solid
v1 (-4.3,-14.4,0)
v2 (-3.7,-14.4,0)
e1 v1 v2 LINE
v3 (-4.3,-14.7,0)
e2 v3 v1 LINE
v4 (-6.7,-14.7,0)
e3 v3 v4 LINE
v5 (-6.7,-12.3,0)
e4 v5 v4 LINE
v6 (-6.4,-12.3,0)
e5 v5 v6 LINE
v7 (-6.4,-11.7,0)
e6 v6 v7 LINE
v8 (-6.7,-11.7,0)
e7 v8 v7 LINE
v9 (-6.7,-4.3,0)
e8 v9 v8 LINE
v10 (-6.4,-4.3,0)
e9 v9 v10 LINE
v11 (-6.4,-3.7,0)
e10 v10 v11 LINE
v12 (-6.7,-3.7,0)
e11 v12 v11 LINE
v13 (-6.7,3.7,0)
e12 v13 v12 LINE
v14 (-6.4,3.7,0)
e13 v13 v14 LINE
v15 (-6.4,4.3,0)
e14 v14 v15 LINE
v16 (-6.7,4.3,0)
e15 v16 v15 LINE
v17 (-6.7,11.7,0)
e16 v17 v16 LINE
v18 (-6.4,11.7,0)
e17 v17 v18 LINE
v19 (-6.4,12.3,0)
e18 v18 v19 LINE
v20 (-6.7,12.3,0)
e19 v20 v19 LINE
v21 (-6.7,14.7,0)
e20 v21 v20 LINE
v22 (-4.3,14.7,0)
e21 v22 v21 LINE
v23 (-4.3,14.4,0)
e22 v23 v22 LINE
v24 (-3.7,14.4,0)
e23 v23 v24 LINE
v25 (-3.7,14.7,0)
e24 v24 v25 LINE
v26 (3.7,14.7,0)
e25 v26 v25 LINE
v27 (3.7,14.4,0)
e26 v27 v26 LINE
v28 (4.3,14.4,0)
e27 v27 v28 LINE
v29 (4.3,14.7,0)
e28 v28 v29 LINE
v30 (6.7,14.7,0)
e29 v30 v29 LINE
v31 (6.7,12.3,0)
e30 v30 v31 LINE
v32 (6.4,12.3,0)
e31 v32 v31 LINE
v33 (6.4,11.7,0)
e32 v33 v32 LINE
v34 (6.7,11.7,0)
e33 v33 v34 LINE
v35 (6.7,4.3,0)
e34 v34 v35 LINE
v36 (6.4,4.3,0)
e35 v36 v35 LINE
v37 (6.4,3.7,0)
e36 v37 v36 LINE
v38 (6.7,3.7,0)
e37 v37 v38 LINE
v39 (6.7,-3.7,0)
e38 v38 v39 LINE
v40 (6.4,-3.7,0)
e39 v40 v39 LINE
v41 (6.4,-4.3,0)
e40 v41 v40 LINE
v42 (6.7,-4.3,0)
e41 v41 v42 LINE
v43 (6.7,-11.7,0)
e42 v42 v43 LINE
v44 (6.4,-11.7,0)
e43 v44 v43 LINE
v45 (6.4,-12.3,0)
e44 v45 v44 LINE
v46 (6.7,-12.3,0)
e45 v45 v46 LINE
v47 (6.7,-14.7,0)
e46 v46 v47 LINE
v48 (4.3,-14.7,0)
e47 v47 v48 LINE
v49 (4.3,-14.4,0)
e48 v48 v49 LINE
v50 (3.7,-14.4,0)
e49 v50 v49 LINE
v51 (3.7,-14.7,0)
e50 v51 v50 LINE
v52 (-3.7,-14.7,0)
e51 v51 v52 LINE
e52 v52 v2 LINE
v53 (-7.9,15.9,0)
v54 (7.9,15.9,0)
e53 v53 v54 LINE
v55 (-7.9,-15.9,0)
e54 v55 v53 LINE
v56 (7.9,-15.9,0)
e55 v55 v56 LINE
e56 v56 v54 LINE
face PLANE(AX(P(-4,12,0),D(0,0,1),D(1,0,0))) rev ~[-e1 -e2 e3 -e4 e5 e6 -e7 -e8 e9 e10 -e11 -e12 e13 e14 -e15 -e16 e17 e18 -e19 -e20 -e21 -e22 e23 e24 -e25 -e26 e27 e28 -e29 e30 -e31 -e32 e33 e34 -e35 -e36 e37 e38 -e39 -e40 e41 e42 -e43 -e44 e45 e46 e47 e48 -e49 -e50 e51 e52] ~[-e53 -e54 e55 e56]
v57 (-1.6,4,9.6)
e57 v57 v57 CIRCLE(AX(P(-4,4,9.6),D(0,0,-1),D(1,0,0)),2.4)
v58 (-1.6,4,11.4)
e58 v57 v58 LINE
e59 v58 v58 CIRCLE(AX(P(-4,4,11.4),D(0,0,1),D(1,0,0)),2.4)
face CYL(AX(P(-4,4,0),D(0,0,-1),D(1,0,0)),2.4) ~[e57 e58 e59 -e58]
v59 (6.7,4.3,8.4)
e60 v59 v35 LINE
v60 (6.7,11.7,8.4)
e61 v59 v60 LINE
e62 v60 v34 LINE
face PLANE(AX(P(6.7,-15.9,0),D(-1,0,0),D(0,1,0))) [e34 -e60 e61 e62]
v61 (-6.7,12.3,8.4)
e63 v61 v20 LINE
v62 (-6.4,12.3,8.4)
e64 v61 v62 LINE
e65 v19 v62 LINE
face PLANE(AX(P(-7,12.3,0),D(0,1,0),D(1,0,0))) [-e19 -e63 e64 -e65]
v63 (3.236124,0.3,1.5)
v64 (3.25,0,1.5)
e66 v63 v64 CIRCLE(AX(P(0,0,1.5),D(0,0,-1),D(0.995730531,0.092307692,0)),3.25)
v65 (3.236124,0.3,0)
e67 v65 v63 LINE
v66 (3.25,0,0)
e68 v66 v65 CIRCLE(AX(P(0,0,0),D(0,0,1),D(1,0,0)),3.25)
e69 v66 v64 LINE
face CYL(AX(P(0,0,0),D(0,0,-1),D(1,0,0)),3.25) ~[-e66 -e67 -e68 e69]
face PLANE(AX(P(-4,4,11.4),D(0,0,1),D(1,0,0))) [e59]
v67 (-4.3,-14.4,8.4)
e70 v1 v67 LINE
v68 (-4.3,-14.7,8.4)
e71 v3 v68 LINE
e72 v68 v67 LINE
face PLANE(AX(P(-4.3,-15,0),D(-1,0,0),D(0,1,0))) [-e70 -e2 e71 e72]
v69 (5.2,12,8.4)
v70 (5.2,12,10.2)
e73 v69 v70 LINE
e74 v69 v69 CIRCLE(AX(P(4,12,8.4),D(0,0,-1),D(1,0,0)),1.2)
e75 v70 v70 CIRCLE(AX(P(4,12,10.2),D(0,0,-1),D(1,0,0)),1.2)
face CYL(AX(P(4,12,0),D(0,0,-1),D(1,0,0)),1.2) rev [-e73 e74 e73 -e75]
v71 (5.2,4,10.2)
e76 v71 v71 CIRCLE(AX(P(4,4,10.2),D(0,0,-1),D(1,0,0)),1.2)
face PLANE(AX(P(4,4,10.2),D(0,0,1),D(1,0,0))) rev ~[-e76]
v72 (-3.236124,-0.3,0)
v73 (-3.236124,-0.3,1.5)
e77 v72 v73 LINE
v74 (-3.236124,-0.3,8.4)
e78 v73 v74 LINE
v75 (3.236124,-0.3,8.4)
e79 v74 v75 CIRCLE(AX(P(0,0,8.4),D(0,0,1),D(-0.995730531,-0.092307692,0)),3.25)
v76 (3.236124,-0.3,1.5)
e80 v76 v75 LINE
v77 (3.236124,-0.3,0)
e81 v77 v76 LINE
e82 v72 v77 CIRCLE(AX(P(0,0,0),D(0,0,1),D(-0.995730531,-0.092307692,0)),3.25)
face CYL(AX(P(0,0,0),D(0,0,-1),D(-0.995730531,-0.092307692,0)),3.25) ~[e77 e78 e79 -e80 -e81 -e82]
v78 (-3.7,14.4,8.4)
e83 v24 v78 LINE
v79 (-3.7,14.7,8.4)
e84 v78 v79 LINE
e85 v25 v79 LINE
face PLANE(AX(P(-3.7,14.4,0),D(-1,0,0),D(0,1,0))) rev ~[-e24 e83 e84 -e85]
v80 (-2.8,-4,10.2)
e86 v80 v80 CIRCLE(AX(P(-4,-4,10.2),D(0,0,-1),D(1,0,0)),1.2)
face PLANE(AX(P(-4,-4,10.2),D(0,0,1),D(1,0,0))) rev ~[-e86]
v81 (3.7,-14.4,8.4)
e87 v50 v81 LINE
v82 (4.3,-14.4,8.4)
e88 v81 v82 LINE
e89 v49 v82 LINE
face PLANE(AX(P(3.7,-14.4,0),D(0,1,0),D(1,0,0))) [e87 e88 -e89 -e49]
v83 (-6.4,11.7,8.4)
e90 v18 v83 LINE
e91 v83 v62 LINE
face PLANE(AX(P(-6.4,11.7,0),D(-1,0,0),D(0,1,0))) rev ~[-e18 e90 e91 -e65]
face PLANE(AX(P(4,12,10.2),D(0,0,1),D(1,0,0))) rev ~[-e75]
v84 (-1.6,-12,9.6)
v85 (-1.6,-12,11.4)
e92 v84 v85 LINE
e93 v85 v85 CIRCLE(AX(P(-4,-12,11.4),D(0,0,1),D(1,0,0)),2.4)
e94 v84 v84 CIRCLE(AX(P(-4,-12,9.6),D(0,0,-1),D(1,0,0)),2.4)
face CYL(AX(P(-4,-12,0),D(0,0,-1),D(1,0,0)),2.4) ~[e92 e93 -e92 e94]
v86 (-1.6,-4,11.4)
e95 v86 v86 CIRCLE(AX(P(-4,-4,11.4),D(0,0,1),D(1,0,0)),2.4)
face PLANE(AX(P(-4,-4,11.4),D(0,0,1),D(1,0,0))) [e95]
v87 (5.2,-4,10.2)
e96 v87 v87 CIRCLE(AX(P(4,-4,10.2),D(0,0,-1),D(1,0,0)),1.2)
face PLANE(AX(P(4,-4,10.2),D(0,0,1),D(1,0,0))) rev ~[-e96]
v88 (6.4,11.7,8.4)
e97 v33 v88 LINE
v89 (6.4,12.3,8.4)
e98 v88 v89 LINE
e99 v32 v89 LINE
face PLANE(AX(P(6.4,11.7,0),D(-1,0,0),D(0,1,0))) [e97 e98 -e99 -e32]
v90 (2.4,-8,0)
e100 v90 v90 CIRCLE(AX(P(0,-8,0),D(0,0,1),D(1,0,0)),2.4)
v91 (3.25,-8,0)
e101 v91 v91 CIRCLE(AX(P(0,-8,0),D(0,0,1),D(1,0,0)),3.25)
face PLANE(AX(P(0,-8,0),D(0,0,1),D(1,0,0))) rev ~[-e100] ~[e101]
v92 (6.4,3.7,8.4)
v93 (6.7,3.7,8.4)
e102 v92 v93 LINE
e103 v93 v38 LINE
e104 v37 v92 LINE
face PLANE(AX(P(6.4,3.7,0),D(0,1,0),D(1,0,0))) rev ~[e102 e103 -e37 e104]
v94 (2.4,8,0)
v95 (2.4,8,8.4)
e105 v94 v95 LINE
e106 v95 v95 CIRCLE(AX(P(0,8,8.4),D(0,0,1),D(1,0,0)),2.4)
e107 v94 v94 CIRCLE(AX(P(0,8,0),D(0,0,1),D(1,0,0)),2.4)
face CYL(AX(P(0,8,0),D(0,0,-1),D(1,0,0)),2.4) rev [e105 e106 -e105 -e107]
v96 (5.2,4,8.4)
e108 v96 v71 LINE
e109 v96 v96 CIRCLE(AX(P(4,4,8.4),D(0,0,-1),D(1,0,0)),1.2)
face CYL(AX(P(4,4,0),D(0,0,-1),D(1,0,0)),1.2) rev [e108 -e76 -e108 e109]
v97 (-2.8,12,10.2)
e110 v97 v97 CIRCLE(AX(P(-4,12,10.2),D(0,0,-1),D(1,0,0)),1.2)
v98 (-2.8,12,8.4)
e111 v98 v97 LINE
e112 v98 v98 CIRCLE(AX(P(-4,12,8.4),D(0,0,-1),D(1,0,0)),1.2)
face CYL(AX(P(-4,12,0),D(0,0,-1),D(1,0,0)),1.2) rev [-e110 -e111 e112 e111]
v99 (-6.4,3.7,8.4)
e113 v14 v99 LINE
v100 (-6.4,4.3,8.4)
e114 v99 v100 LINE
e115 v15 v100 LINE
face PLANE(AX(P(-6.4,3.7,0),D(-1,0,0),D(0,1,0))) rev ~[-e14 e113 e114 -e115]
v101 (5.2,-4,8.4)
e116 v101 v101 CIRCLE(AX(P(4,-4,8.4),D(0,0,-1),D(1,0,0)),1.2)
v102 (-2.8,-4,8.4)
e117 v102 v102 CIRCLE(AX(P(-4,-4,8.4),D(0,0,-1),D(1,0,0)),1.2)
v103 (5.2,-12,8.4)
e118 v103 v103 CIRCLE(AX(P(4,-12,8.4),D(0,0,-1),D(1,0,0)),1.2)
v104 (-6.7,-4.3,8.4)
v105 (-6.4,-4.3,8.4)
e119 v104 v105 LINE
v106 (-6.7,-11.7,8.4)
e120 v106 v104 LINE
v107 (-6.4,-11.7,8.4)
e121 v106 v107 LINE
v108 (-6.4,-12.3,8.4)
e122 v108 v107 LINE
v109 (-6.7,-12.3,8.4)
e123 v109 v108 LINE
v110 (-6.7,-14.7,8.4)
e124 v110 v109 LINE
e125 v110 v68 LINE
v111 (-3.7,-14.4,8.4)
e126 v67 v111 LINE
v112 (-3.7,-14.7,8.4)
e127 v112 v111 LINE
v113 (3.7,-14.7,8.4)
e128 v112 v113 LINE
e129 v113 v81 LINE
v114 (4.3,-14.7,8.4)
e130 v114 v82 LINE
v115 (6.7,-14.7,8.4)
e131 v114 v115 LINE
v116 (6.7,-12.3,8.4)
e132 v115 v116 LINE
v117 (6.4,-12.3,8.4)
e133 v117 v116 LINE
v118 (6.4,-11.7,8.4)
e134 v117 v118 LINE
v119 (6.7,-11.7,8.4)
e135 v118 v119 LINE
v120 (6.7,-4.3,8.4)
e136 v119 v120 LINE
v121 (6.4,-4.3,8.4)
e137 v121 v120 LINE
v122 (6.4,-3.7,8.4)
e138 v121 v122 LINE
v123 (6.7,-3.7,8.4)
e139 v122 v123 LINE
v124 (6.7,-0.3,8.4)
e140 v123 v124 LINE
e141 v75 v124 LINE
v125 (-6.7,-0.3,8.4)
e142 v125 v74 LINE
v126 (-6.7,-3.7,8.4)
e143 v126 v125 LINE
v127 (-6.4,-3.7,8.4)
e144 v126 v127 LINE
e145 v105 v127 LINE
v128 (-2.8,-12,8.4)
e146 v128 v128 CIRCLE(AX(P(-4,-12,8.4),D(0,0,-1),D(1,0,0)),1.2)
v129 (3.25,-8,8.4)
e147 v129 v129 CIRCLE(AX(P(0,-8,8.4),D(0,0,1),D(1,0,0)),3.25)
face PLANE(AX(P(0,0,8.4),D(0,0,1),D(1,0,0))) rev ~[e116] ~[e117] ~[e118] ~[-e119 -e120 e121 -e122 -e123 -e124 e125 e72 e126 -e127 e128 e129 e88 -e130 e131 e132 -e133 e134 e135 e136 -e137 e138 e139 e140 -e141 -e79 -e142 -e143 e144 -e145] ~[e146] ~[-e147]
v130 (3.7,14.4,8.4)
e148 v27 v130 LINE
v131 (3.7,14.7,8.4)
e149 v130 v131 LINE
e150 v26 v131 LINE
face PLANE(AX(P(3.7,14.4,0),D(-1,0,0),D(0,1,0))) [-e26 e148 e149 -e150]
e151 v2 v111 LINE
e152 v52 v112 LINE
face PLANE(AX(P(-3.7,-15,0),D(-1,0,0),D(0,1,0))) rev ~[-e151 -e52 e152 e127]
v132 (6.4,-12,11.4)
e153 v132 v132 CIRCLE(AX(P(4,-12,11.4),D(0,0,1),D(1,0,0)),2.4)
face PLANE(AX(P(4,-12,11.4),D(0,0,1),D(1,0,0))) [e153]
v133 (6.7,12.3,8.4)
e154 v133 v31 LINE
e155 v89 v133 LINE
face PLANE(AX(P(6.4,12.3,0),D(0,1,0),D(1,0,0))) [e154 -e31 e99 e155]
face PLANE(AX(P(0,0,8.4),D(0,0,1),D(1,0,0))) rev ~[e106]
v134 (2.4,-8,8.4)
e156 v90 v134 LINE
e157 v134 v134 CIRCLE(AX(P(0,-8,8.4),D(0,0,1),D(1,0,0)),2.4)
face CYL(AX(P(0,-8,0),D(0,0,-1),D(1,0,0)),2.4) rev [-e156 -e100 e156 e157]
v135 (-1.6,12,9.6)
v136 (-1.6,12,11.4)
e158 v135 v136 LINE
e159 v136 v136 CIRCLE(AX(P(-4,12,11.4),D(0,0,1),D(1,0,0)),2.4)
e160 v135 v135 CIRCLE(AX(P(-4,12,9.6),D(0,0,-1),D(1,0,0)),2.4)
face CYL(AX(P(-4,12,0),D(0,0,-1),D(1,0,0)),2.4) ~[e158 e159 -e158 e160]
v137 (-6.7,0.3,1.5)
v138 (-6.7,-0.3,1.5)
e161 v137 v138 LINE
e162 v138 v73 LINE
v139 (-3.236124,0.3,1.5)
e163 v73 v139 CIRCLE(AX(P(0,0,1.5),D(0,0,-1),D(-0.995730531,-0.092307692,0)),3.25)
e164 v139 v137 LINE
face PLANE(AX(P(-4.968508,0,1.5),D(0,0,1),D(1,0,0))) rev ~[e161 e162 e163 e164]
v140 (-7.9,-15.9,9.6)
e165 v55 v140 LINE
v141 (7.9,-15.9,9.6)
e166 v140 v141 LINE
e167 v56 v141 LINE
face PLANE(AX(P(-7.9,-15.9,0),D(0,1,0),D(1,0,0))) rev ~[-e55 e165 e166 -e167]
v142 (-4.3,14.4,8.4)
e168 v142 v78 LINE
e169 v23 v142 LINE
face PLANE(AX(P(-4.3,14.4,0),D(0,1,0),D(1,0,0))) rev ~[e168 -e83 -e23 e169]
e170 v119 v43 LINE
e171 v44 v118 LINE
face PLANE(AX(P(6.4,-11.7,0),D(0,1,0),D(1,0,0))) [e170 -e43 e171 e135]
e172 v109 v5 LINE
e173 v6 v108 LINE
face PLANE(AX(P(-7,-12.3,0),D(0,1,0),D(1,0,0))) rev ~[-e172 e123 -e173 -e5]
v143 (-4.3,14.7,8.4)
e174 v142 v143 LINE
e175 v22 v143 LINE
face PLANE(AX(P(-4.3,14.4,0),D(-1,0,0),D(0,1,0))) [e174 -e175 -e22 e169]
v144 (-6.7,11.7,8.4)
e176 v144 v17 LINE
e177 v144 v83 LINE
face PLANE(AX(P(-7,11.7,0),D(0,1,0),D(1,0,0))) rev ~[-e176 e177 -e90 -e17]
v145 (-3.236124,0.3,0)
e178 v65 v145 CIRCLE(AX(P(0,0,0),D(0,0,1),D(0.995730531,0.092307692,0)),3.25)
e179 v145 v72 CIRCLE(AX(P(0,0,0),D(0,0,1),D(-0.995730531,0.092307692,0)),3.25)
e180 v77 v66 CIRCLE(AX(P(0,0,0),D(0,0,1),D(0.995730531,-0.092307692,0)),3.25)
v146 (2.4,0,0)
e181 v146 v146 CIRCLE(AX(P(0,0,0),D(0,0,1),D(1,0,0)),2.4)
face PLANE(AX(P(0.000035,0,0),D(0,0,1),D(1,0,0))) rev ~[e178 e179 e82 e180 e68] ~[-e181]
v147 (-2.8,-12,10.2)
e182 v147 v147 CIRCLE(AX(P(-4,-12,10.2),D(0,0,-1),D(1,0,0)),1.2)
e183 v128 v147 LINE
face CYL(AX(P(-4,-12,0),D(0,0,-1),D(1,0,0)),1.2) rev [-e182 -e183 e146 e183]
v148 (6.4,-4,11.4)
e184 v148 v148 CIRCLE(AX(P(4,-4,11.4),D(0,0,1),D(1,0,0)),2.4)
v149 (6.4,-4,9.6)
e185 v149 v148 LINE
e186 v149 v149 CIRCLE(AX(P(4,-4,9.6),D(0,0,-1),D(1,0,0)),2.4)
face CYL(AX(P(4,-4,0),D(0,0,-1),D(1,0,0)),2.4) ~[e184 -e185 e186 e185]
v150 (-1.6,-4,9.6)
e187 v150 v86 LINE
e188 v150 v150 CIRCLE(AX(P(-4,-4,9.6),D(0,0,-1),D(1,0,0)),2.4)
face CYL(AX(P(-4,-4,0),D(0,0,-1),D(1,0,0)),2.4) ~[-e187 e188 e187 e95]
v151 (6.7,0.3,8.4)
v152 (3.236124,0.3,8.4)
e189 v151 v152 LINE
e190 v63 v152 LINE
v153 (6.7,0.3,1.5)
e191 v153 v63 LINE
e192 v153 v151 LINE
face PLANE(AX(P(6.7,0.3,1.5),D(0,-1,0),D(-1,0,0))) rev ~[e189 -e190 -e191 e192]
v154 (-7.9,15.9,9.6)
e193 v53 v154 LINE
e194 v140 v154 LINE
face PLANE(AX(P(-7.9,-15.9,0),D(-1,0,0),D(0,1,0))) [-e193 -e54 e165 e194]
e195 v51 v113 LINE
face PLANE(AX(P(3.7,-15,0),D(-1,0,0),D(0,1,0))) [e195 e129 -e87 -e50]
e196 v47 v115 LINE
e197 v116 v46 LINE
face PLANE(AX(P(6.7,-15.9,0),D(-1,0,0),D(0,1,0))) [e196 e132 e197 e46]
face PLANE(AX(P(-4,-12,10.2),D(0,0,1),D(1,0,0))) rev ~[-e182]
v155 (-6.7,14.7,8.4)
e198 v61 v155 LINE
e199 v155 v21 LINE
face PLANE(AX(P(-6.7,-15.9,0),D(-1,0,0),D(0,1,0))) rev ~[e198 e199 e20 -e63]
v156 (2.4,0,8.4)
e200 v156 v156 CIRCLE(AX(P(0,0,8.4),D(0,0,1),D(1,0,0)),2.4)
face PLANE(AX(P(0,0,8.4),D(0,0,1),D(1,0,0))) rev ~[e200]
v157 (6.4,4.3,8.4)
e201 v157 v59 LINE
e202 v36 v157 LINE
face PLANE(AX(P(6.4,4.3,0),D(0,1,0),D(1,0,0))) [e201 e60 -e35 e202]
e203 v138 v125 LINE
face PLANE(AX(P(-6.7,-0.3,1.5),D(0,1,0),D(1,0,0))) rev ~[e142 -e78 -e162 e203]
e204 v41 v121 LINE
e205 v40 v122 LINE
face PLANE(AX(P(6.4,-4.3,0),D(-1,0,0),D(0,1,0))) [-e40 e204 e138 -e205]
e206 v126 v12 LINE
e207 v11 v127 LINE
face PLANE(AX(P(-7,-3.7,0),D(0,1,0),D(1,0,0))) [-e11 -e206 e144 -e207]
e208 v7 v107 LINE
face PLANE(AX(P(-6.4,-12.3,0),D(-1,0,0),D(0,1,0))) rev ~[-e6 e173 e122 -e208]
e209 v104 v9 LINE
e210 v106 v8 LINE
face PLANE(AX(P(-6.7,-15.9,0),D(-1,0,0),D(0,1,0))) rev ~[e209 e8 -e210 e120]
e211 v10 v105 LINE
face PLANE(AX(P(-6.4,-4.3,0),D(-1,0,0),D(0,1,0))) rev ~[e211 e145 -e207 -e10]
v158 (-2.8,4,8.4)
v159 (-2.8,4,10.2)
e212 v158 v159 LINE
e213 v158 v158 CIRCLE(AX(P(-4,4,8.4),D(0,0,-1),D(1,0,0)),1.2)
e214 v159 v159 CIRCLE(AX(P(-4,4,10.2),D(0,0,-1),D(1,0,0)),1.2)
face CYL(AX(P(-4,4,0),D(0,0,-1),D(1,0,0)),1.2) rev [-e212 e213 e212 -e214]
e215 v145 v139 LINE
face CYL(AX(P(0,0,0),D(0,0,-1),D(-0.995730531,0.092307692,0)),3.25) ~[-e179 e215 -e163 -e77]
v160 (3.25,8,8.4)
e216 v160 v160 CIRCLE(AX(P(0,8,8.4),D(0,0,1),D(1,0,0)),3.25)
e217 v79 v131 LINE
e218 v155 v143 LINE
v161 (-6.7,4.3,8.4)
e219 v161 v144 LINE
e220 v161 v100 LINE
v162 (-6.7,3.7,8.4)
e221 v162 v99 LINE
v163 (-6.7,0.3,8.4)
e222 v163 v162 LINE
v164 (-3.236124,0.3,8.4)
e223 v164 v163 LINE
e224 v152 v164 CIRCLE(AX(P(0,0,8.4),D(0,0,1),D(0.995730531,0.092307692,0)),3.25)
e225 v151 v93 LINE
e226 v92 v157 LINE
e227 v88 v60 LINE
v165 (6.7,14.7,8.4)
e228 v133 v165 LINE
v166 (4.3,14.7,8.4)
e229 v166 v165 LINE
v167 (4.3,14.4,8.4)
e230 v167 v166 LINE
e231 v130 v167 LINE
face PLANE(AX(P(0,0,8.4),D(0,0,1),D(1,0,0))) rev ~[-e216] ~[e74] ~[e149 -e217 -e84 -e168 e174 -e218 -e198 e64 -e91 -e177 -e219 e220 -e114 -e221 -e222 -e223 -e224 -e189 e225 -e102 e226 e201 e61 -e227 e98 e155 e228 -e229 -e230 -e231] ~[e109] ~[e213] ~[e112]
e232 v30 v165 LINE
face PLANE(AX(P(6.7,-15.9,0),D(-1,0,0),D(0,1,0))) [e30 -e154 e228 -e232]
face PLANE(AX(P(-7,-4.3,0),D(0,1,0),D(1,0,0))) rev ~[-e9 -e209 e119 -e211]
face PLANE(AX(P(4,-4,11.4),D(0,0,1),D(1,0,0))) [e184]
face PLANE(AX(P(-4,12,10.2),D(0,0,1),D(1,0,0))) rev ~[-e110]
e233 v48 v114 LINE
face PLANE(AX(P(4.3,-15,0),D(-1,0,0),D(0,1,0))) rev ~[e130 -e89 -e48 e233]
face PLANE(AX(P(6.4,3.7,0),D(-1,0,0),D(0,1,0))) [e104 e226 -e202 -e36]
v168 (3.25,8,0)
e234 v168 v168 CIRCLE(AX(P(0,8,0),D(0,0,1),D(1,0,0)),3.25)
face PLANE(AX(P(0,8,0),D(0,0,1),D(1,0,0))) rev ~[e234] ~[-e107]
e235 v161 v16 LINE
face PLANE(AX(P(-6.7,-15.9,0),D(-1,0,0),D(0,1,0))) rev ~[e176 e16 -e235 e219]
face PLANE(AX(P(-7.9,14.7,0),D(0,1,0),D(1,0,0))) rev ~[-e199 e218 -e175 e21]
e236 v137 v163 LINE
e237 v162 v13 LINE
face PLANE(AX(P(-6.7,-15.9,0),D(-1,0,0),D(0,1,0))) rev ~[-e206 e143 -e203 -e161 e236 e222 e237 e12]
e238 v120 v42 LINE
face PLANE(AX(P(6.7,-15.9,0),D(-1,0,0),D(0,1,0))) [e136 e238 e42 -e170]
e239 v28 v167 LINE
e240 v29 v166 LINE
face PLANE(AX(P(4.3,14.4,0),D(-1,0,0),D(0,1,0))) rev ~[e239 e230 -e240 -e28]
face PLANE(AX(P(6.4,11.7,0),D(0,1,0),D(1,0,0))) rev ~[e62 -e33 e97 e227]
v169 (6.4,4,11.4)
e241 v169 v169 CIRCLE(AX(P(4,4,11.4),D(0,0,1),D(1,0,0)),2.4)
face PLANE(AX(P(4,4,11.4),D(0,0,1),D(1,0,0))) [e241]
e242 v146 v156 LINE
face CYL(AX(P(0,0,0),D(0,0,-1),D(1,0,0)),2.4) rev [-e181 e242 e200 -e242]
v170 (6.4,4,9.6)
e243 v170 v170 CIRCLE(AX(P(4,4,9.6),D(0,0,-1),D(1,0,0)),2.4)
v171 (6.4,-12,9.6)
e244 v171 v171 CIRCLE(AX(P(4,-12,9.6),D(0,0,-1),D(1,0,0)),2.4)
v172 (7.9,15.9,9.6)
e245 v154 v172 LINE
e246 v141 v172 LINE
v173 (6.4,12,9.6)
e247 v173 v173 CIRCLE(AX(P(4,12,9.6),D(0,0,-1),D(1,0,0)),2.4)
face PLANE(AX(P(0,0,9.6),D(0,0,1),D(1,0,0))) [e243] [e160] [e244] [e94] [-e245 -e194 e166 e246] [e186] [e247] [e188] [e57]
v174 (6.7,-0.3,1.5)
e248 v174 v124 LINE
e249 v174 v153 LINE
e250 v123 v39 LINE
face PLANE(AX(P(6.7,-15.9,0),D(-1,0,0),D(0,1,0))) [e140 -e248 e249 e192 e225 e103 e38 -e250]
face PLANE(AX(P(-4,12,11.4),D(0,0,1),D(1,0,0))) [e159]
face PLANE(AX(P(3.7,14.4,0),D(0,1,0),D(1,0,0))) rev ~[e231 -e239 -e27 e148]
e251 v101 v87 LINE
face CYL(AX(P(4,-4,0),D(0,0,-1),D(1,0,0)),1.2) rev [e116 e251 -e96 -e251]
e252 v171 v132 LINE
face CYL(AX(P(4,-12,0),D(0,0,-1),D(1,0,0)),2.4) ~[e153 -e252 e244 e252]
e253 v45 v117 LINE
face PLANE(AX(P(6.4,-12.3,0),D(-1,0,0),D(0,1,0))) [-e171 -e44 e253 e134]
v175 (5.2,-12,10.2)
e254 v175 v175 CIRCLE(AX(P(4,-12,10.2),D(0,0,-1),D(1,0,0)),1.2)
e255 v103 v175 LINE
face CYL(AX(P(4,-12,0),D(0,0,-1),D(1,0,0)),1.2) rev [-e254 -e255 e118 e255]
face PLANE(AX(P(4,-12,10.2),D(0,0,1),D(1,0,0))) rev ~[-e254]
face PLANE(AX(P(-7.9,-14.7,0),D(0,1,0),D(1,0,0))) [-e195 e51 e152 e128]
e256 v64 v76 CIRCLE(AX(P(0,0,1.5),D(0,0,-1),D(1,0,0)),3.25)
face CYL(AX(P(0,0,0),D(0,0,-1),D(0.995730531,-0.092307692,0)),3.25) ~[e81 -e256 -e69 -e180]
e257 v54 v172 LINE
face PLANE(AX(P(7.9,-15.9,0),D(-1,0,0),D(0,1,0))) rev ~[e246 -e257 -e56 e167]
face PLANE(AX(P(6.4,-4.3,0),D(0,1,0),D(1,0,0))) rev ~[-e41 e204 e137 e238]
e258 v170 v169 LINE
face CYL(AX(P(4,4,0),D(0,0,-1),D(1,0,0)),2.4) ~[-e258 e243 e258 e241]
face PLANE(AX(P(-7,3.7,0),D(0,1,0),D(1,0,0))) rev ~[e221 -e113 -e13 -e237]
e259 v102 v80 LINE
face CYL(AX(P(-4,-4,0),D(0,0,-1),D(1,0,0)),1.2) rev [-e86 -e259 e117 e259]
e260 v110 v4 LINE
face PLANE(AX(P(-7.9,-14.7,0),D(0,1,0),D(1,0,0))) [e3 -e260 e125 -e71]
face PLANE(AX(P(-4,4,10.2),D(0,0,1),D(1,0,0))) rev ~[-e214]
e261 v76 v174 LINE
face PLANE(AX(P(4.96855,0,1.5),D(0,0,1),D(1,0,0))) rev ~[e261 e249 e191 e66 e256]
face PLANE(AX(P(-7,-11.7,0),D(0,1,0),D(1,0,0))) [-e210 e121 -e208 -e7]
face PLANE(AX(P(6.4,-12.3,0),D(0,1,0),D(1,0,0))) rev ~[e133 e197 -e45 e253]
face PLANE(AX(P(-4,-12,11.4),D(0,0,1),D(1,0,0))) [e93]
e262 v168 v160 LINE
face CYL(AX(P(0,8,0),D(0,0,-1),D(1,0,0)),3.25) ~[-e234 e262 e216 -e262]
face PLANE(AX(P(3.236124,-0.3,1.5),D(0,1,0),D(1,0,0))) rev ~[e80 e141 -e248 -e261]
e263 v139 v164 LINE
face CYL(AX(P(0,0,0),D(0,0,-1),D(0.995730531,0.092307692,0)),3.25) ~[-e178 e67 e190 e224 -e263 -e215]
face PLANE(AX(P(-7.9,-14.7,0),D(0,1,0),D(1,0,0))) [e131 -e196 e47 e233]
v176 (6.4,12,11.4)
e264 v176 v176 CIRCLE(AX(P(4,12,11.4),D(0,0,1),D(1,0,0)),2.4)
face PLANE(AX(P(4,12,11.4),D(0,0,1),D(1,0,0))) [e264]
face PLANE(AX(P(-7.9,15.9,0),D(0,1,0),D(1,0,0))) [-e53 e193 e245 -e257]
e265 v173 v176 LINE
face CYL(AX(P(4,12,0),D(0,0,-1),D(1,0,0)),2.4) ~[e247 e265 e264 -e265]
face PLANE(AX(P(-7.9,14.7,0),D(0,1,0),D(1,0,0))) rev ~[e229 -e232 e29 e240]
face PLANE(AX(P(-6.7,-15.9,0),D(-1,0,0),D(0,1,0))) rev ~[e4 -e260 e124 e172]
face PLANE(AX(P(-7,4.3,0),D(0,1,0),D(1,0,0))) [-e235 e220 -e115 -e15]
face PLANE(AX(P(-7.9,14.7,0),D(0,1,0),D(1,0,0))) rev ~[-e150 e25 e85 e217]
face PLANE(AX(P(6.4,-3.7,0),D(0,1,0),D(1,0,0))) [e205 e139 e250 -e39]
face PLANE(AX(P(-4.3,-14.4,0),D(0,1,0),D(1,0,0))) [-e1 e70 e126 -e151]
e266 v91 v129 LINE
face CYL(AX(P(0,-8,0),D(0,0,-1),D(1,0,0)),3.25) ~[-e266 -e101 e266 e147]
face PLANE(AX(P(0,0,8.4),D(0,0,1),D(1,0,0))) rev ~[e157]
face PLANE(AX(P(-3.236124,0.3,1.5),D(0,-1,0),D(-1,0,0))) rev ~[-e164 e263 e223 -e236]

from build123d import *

# Parameters (mm, degrees)
F0_W     = 15.8
F0_H     = 31.8
F0_R     = 2.4
F1_DEPTH = 9.6
F2_DEPTH = 11.4
F3_T     = -1.2
F5_W     = 0.6
F5_H     = 0.6
F6_DEPTH = 8.4
F4_R     = 3.25
F4_R_2   = 2.4
F7_DEPTH = 8.4
F8_START = 1.5
F8_DEPTH = 6.9


with BuildPart() as f1:
    # F0 (on Top) → F1 (new body)
    with BuildSketch(Plane.XY):
        Rectangle(F0_W, F0_H)
        with Locations((-4, -12)):
            Circle(F0_R, mode=Mode.SUBTRACT)
        with Locations((-4, -4)):
            Circle(F0_R, mode=Mode.SUBTRACT)
        with Locations((4, -12)):
            Circle(F0_R, mode=Mode.SUBTRACT)
        with Locations((4, -4)):
            Circle(F0_R, mode=Mode.SUBTRACT)
        with Locations((-4, 4)):
            Circle(F0_R, mode=Mode.SUBTRACT)
        with Locations((-4, 12)):
            Circle(F0_R, mode=Mode.SUBTRACT)
        with Locations((4, 4)):
            Circle(F0_R, mode=Mode.SUBTRACT)
        with Locations((4, 12)):
            Circle(F0_R, mode=Mode.SUBTRACT)
        with Locations((4, 4)):
            Circle(F0_R)
        with Locations((4, 12)):
            Circle(F0_R)
        with Locations((4, -4)):
            Circle(F0_R)
        with Locations((4, -12)):
            Circle(F0_R)
        with Locations((-4, -12)):
            Circle(F0_R)
        with Locations((-4, -4)):
            Circle(F0_R)
        with Locations((-4, 4)):
            Circle(F0_R)
        with Locations((-4, 12)):
            Circle(F0_R)
    extrude(amount=F1_DEPTH)

    # F0 (on Top) → F2 (join)
    with BuildSketch(Plane.XY):
        with Locations((-4, 12)):
            Circle(F0_R)
        with Locations((4, 12)):
            Circle(F0_R)
        with Locations((4, 4)):
            Circle(F0_R)
        with Locations((4, -4)):
            Circle(F0_R)
        with Locations((-4, -4)):
            Circle(F0_R)
        with Locations((-4, 4)):
            Circle(F0_R)
        with Locations((-4, -12)):
            Circle(F0_R)
        with Locations((4, -12)):
            Circle(F0_R)
    extrude(amount=F2_DEPTH)

    # F3
    f3_openings = [f1.faces().sort_by_distance(p)[0] for p in [
        (0, 0, 0),
    ]]
    offset(amount=F3_T, openings=f3_openings, kind=Kind.INTERSECTION)

    # F5 (on Top) → F6 (join, through all)
    with BuildSketch(Plane.XY):
        with Locations((-4, -14.7)):
            Rectangle(F5_W, F5_H)
        with Locations((4, -14.7)):
            Rectangle(F5_W, F5_H)
        with Locations((6.7, -12)):
            Rectangle(F5_W, F5_H)
        with Locations((-6.7, -12)):
            Rectangle(F5_W, F5_H)
        with Locations((-6.7, -4)):
            Rectangle(F5_W, F5_H)
        with Locations((6.7, -4)):
            Rectangle(F5_W, F5_H)
        with Locations((-6.7, 4)):
            Rectangle(F5_W, F5_H)
        with Locations((6.7, 4)):
            Rectangle(F5_W, F5_H)
        with Locations((6.7, 12)):
            Rectangle(F5_W, F5_H)
        with Locations((-6.7, 12)):
            Rectangle(F5_W, F5_H)
        with Locations((-4, 14.7)):
            Rectangle(F5_W, F5_H)
        with Locations((4, 14.7)):
            Rectangle(F5_W, F5_H)
    extrude(amount=F6_DEPTH)

    # F4 (on Top) → F7 (join, through all)
    with BuildSketch(Plane.XY):
        with Locations((0, -8)):
            Circle(F4_R)
        with Locations((0, -8)):
            Circle(F4_R_2, mode=Mode.SUBTRACT)
        with BuildLine():
            ThreePointArc((3.2361242251, -0.3), (3.246529203, -0.1501603619), (3.25, 0))
            ThreePointArc((3.25, 0), (3.246529203, 0.1501603619), (3.2361242251, 0.3))
            ThreePointArc((3.2361242251, 0.3), (0, 3.25), (-3.2361242251, 0.3))
            ThreePointArc((-3.2361242251, 0.3), (-3.25, 0), (-3.2361242251, -0.3))
            ThreePointArc((-3.2361242251, -0.3), (0, -3.25), (3.2361242251, -0.3))
        make_face()
        Circle(F4_R_2, mode=Mode.SUBTRACT)
        with Locations((0, 8)):
            Circle(F4_R)
        with Locations((0, 8)):
            Circle(F4_R_2, mode=Mode.SUBTRACT)
    extrude(amount=F7_DEPTH)

    # F4 (on Top) → F8 (join)
    with BuildSketch(Plane.XY.offset(F8_START)):
        with BuildLine():
            ThreePointArc((-3.2361242251, -0.3), (-3.25, 0), (-3.2361242251, 0.3))
            Line((-3.2361242251, 0.3), (-6.7, 0.3))
            Line((-6.7, 0.3), (-6.7, -0.3))
            Line((-6.7, -0.3), (-3.2361242251, -0.3))
        make_face()
        with BuildLine():
            ThreePointArc((3.2361242251, 0.3), (3.246529203, 0.1501603619), (3.25, 0))
            ThreePointArc((3.25, 0), (3.246529203, -0.1501603619), (3.2361242251, -0.3))
            Line((3.2361242251, -0.3), (6.7, -0.3))
            Line((6.7, -0.3), (6.7, 0.3))
            Line((6.7, 0.3), (3.2361242251, 0.3))
        make_face()
    extrude(amount=F8_DEPTH)


solid = f1.part
